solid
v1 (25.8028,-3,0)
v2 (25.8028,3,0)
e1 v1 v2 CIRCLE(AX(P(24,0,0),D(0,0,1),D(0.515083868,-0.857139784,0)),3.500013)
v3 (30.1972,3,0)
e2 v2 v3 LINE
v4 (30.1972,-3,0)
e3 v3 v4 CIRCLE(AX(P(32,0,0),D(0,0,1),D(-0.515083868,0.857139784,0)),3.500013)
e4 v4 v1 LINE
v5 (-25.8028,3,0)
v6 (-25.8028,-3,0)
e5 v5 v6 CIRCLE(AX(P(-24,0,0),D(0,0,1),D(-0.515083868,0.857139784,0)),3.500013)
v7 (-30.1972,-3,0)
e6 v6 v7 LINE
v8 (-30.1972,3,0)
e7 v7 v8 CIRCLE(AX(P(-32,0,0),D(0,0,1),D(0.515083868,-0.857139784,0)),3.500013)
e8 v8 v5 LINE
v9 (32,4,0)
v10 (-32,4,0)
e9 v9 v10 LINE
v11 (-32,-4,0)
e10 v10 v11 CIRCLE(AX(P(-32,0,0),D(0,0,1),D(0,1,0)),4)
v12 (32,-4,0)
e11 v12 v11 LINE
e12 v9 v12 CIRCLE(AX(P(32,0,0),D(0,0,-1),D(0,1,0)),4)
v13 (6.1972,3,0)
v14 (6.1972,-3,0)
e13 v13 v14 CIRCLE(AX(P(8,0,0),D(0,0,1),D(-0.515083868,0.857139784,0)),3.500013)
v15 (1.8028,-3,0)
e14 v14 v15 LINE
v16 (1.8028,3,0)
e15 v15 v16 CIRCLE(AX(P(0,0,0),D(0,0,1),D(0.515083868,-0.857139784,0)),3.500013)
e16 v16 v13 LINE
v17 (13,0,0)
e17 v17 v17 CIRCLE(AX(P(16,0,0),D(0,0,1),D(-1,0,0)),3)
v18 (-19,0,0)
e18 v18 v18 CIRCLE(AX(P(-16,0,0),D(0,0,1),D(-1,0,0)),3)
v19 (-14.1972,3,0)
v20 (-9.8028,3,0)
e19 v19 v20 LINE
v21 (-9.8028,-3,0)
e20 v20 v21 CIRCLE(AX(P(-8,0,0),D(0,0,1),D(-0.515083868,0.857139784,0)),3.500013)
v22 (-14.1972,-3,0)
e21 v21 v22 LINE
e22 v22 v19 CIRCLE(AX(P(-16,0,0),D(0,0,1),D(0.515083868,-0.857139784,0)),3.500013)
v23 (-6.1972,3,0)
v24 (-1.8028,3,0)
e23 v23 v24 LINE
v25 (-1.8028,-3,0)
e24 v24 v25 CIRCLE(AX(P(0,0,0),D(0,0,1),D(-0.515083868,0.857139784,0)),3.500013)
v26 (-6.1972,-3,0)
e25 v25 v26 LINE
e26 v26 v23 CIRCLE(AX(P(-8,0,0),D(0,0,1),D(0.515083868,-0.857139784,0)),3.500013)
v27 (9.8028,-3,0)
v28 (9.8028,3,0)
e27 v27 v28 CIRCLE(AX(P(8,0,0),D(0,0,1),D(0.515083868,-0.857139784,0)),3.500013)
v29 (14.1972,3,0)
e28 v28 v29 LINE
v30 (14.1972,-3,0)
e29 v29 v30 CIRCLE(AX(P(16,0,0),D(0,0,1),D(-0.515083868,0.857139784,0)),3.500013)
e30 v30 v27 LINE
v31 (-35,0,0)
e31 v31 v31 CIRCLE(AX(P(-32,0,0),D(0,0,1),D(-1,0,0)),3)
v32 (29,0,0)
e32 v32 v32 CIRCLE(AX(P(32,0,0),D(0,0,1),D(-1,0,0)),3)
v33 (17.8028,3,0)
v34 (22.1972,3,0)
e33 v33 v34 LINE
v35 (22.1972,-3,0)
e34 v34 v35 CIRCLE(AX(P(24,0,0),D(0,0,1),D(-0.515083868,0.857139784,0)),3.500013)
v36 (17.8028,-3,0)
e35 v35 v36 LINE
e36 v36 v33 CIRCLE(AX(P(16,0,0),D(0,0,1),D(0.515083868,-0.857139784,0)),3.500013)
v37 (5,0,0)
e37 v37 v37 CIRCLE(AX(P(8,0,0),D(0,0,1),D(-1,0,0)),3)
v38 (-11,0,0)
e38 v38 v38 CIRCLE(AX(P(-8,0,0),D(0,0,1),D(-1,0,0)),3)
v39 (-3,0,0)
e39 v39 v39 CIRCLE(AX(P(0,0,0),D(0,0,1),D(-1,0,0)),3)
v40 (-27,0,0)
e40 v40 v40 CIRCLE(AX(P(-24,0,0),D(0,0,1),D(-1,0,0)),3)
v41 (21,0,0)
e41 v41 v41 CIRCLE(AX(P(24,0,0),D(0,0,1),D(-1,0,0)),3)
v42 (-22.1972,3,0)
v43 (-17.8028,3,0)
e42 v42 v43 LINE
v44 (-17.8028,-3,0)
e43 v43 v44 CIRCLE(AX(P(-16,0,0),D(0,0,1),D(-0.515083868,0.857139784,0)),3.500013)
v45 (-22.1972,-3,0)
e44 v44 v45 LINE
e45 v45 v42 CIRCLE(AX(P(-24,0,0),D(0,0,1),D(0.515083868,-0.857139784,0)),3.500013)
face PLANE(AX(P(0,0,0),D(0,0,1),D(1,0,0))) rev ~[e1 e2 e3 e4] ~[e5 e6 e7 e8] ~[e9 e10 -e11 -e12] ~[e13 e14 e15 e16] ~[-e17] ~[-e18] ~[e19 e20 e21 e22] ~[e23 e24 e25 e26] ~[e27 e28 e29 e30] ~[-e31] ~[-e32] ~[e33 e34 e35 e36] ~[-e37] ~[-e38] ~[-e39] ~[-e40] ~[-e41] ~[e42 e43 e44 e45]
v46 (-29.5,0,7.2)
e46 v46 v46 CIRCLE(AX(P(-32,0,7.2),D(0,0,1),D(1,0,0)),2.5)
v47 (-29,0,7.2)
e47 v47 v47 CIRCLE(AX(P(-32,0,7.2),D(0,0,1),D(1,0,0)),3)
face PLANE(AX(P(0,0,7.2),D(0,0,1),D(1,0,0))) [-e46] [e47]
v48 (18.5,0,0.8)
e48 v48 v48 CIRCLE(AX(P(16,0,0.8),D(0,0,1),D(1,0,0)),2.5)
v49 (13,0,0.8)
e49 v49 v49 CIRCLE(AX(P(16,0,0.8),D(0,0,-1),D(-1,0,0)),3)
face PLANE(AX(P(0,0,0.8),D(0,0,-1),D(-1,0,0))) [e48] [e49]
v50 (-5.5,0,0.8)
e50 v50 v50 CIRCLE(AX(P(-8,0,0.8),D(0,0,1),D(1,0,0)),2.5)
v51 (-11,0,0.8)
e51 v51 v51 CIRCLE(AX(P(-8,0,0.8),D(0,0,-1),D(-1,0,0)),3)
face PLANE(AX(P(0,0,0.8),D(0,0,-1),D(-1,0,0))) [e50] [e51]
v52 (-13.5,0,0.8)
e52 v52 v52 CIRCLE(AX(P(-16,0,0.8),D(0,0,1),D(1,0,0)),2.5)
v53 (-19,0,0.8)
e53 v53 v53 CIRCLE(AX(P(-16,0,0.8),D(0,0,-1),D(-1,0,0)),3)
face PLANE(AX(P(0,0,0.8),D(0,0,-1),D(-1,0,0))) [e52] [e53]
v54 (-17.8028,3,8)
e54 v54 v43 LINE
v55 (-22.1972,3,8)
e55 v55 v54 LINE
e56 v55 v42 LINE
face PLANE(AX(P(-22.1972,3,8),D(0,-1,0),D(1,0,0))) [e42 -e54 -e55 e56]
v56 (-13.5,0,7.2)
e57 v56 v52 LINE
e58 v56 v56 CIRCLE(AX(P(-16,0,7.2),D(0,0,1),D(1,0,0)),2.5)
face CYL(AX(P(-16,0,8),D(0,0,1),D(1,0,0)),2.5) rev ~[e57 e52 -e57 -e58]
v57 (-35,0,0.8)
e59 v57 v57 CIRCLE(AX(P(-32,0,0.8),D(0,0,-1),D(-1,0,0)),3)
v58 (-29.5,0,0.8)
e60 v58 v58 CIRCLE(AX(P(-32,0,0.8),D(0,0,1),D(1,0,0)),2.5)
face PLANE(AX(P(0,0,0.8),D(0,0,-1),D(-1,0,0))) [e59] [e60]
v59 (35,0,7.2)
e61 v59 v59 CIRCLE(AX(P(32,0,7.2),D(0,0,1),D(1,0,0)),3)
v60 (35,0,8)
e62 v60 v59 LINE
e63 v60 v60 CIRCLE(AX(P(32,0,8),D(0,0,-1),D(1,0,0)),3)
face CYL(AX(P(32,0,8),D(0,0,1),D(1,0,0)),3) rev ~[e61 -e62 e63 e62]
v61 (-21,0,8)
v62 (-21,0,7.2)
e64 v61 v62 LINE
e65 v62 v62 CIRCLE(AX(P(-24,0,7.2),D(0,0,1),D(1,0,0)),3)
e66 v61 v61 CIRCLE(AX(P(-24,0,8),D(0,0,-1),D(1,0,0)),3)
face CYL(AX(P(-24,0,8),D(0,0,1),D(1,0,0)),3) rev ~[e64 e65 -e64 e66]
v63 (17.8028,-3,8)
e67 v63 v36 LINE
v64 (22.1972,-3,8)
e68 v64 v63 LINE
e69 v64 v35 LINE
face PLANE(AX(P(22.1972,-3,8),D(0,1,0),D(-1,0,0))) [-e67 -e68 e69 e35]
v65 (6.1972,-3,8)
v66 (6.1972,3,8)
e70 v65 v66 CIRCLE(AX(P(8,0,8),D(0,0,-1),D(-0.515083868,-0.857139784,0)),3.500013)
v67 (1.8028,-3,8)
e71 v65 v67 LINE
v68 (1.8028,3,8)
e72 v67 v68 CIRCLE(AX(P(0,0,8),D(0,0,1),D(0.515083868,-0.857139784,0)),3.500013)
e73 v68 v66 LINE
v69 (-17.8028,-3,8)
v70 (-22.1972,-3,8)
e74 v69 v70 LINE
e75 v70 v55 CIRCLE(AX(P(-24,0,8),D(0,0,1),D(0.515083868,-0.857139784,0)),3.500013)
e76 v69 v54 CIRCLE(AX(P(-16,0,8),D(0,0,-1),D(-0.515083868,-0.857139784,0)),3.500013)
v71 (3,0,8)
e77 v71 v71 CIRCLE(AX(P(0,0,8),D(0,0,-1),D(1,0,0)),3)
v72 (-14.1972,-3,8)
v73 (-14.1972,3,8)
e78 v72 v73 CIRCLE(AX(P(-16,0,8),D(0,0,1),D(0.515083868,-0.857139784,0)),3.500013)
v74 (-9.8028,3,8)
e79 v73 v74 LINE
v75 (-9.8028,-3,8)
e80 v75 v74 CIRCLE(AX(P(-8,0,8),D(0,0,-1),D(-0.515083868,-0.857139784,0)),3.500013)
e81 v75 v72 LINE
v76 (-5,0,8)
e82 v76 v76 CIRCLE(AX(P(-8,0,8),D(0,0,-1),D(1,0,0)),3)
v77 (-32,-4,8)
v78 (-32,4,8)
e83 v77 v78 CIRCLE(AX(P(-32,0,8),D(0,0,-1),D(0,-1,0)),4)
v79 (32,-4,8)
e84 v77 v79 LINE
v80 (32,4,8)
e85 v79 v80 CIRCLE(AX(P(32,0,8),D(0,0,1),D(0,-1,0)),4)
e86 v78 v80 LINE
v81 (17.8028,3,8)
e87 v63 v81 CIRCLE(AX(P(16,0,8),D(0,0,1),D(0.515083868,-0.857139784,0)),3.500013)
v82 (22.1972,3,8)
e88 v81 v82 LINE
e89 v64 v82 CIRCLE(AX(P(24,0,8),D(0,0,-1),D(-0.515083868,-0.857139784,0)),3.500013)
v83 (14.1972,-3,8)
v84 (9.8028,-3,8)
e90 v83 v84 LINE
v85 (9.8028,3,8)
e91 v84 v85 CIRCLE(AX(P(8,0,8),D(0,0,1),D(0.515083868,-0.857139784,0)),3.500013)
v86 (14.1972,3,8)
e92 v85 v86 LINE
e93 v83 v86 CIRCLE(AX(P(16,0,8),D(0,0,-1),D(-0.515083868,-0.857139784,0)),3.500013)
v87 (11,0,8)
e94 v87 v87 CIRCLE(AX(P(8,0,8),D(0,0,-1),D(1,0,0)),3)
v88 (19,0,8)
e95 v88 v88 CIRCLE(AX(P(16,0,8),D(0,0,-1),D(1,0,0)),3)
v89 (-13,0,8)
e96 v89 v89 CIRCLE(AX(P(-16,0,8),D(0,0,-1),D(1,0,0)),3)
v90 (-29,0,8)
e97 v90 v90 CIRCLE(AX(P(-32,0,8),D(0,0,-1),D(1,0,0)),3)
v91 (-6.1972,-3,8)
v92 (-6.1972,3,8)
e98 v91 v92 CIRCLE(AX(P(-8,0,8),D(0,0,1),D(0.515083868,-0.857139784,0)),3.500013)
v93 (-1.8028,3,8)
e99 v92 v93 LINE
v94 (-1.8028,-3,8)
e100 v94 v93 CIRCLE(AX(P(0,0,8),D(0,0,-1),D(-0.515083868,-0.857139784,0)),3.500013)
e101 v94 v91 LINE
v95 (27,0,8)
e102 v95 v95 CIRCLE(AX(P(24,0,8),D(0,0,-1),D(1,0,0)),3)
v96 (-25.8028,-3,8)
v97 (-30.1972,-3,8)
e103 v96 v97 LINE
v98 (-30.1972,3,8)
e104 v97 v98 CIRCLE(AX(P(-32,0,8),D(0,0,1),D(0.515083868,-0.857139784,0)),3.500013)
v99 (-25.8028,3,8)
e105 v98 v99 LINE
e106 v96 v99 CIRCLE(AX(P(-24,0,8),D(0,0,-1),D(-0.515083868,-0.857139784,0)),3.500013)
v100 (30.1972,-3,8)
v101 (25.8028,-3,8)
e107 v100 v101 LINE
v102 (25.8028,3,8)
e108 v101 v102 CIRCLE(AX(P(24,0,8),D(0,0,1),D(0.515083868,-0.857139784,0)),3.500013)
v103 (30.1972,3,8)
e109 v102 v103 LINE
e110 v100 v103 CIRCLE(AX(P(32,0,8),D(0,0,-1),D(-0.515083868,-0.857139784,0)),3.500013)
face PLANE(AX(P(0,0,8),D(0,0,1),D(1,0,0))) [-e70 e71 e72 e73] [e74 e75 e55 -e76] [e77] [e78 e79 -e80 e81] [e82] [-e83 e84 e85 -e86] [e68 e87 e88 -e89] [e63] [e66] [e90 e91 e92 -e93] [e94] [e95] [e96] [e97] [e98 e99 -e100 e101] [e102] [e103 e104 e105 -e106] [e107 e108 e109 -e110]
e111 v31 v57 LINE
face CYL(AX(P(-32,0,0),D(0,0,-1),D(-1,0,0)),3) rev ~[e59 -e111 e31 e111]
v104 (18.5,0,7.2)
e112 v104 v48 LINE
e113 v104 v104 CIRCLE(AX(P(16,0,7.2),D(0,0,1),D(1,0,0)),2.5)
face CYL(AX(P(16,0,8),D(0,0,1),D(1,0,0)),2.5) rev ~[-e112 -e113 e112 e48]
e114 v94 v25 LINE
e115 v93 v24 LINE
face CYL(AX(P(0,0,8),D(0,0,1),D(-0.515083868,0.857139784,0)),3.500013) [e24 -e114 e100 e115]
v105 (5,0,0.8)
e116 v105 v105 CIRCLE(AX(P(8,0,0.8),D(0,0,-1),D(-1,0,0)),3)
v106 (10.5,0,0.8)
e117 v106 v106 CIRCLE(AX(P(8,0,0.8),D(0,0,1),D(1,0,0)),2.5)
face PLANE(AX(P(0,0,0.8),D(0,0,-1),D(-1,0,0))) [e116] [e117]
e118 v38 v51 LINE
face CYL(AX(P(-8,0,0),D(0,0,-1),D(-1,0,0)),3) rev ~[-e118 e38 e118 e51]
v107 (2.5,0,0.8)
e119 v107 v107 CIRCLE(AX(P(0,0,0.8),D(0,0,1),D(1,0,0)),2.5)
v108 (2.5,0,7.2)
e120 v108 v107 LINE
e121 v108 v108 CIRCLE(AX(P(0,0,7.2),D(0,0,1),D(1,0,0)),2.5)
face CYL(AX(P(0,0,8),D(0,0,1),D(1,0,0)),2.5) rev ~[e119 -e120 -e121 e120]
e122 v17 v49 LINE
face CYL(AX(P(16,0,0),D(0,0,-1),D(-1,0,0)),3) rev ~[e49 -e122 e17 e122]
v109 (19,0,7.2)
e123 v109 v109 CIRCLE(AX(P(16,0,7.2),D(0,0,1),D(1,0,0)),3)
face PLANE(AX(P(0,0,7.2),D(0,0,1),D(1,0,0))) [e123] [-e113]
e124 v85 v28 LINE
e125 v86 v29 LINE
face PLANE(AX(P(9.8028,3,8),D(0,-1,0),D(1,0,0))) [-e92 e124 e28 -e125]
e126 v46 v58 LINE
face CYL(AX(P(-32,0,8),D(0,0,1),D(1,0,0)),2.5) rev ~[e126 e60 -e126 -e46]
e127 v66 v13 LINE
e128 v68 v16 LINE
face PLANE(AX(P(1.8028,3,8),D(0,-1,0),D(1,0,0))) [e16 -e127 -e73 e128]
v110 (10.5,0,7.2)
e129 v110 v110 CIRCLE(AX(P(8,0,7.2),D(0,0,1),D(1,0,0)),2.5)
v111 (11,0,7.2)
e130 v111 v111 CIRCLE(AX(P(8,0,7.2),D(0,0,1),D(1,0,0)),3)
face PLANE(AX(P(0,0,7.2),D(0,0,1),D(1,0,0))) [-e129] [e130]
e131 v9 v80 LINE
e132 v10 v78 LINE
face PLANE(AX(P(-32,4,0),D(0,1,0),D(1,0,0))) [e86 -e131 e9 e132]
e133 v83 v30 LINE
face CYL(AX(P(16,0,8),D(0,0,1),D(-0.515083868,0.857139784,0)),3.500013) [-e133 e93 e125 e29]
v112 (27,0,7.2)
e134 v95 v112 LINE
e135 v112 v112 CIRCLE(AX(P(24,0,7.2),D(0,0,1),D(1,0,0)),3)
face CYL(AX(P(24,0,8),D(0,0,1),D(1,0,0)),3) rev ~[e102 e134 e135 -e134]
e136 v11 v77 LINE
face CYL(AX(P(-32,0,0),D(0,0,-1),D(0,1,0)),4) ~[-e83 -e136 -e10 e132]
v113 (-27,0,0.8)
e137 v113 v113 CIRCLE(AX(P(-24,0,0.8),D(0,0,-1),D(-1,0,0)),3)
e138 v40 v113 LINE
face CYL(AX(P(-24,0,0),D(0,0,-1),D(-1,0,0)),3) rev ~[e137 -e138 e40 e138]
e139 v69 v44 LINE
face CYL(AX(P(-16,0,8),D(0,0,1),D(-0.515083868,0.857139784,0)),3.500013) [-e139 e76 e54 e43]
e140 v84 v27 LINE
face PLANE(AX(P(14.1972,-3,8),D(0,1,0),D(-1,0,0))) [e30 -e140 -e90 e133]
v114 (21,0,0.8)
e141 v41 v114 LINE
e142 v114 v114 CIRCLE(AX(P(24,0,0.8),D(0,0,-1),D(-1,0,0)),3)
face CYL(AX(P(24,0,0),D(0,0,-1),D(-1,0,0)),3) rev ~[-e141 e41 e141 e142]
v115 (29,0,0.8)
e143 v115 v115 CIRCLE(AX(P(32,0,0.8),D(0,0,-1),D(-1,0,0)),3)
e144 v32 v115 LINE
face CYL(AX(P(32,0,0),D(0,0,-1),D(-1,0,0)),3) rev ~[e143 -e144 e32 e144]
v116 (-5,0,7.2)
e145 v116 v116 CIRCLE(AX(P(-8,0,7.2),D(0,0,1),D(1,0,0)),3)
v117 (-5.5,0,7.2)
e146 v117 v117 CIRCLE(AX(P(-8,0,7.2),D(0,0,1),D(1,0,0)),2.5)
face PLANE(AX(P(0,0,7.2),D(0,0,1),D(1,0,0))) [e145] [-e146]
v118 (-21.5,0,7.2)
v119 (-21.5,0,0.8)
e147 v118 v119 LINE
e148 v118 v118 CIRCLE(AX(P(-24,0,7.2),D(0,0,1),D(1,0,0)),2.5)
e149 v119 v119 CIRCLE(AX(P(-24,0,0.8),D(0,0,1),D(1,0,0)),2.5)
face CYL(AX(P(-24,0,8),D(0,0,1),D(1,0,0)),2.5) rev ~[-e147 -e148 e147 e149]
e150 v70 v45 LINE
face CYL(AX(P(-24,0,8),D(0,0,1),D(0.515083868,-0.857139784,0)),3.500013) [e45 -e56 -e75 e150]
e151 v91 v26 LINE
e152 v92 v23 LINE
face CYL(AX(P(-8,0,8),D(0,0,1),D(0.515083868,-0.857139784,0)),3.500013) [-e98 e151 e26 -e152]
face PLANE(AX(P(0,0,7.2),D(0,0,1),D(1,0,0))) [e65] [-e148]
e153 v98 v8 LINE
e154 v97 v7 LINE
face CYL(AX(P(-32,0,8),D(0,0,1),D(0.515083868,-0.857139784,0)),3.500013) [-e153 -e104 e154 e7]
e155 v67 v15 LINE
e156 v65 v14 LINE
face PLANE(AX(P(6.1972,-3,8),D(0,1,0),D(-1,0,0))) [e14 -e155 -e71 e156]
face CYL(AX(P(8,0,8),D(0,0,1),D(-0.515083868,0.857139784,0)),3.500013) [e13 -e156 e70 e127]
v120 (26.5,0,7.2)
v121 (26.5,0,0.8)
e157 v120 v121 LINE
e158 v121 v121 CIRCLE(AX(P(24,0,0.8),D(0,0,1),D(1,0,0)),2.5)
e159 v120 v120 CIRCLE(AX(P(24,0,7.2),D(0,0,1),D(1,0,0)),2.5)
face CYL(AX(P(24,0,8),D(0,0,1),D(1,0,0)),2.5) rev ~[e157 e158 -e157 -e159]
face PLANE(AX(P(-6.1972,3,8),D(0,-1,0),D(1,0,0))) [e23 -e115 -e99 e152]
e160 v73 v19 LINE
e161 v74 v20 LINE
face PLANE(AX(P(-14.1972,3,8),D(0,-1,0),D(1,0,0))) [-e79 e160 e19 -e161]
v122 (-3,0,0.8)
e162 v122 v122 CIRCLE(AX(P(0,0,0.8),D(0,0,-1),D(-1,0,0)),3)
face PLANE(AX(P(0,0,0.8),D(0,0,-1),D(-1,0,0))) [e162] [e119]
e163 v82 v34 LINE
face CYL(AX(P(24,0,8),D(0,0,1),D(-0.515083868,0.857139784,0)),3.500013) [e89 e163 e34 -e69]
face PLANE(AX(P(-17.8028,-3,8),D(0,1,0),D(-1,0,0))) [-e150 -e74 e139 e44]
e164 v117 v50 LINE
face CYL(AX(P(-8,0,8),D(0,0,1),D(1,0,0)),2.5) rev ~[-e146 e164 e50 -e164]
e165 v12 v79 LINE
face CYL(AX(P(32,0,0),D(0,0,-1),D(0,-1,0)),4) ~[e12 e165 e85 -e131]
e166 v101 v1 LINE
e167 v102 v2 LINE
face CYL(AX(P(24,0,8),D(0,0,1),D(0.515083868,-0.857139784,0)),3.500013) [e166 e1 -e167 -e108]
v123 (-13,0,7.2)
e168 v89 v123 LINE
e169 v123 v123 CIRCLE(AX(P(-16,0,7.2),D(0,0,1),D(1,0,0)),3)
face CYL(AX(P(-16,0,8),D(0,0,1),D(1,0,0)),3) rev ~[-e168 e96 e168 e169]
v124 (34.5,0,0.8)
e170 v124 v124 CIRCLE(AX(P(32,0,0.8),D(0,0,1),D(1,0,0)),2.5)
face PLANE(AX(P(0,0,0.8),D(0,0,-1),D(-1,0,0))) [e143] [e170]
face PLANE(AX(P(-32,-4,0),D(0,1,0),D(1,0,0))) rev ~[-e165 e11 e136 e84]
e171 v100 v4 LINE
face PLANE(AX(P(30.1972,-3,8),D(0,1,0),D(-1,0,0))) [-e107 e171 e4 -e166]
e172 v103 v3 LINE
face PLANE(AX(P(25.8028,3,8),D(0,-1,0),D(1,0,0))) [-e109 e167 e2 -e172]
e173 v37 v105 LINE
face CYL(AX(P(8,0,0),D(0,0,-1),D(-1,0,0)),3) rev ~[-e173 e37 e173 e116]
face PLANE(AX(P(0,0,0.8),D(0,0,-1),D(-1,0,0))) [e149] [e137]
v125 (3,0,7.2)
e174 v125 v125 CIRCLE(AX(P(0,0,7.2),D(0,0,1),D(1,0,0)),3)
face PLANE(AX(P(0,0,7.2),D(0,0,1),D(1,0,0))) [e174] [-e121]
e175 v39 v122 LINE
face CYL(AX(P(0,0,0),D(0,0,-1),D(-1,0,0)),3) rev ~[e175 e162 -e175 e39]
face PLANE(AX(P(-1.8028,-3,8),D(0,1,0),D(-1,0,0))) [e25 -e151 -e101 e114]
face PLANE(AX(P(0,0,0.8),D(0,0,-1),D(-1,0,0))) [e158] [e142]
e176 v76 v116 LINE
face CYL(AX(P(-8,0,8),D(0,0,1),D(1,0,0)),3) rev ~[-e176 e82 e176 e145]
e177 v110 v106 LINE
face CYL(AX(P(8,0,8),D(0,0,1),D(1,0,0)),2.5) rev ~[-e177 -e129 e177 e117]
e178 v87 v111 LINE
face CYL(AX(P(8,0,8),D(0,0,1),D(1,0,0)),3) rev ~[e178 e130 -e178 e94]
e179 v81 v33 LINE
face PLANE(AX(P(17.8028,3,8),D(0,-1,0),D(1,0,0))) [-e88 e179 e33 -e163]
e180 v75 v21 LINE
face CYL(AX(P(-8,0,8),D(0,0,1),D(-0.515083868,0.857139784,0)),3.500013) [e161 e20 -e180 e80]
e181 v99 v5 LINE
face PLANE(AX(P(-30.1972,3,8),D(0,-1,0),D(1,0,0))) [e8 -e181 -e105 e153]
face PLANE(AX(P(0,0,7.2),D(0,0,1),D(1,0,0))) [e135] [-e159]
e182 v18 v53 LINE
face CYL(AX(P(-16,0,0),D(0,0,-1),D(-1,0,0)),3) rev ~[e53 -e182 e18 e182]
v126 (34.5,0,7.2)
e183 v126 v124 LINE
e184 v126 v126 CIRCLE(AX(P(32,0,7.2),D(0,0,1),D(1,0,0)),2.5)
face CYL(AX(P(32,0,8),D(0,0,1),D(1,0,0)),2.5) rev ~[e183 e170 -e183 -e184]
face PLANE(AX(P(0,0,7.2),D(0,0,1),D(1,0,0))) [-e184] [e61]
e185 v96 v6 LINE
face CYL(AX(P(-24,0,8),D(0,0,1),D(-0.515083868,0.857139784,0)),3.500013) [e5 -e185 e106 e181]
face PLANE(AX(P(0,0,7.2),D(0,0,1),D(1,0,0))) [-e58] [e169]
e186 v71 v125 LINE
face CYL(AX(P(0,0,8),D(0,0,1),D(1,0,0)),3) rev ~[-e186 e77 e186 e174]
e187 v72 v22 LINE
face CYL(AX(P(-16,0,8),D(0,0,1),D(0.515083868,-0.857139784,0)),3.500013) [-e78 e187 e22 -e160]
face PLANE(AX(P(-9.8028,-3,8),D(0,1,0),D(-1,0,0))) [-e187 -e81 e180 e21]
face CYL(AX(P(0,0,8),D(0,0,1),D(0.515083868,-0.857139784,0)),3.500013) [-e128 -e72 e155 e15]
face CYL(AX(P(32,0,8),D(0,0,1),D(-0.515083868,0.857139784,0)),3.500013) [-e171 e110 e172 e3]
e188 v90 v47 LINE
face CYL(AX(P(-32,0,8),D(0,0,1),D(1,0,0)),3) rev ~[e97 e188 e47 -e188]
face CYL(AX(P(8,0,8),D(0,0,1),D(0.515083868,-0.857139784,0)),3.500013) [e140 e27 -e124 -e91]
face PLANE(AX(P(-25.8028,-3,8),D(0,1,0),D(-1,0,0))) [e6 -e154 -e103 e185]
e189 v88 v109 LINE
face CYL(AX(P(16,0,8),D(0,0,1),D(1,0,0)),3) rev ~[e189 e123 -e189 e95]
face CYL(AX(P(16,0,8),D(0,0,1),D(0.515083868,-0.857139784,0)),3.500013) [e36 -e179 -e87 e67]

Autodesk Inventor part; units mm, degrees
ref_plane "YZ Plane" through (0, 0, 0) normal (1, 0, 0) x (0, 1, 0)
ref_plane "XZ Plane" through (0, 0, 0) normal (0, 1, 0) x (-1, 0, 0)
ref_plane "XY Plane" through (0, 0, 0) normal (0, 0, 1) x (1, 0, 0)
sketch "Sketch2" plane through (0, 0, 0) normal (0, 0, 1) x (1, 0, 0)
  arc A0 (-32, 4) -> (-32, -4) centre (-32, 0) ccw
  arc A1 (32, -4) -> (32, 4) centre (32, 0) ccw
  line L0 (-32, 4) -> (32, 4)
  line L1 (-32, -4) -> (32, -4)
  line L2 (-50.4, 0) -> (50.4, 0) projected
  line L3 (0, -5.6) -> (0, 5.6) projected
  point P0 (0, 0)
  dimension "d0" = 4
  dimension "d1" = 4
  dimension "d2" = 64
  dimension "d3" = 0
  dimension "d4" = 32
  dimension "d9" = 180
  dimension "d10" = 0
  dimension "d141" = 64
extrude "Extrusion1" add sketch "Sketch2" along normal blind 8
sketch "Sketch15" plane through (0, 0, 8) normal (0, 0, 1) x (1, 0, 0)
  arc A0 (-32, 4) -> (-32, -4) centre (-32, 0) ccw projected
  circle A1 centre (-32, 0) radius 2.5
  line L0 (-50.4, 0) -> (50.4, 0) projected
  circle A2 centre (-24, 0) radius 2.5
  circle A3 centre (-16, 0) radius 2.5
  circle A4 centre (-8, 0) radius 2.5
  circle A5 centre (0, 0) radius 2.5
  circle A6 centre (8, 0) radius 2.5
  circle A7 centre (16, 0) radius 2.5
  circle A8 centre (24, 0) radius 2.5
  circle A9 centre (32, 0) radius 2.5
  dimension "d142" = 5
  dimension "d148" = 8
extrude "Extrusion14" cut sketch "Sketch15" against normal through all
sketch "Sketch16" plane through (0, 0, 8) normal (0, 0, 1) x (1, 0, 0)
  circle A0 centre (32, 0) radius 2.5 projected
  circle A1 centre (24, 0) radius 2.5 projected
  circle A2 centre (16, 0) radius 2.5 projected
  circle A3 centre (8, 0) radius 2.5 projected
  circle A4 centre (0, 0) radius 2.5 projected
  circle A5 centre (-8, 0) radius 2.5 projected
  circle A6 centre (-16, 0) radius 2.5 projected
  circle A7 centre (-24, 0) radius 2.5 projected
  circle A8 centre (-32, 0) radius 2.5 projected
  arc A9 (-32, 4) -> (-32, -4) centre (-32, 0) ccw projected
  circle A10 centre (-32, 0) radius 3
  line L0 (-50.4, 0) -> (50.4, 0) projected
  circle A11 centre (-24, 0) radius 3
  circle A12 centre (-16, 0) radius 3
  circle A13 centre (-8, 0) radius 3
  circle A14 centre (0, 0) radius 3
  circle A15 centre (8, 0) radius 3
  circle A16 centre (16, 0) radius 3
  circle A17 centre (24, 0) radius 3
  circle A18 centre (32, 0) radius 3
  dimension "d152" = 6
  dimension "d158" = 8
extrude "Extrusion15" cut sketch "Sketch16" against normal blind 0.8 contours L0 A18 A0 | A0 L0 A18 | A10 L0 A8 | L0 A8 A10 | A11 L0 A7 | L0 A7 A11 | A12 L0 A6 | L0 A6 A12 | A13 L0 A5 | L0 A5 A13 | A14 L0 A4 | L0 A4 A14 | A15 L0 A3 | L0 A3 A15 | A16 L0 A2 | L0 A2 A16 | A17 L0 A1 | L0 A1 A17
sketch "Sketch17" plane through (0, 0, 0) normal (0, 0, -1) x (-1, 0, 0)
  circle A0 centre (-32, 0) radius 2.5 projected
  circle A1 centre (-24, 0) radius 2.5 projected
  circle A2 centre (-16, 0) radius 2.5 projected
  circle A3 centre (-8, 0) radius 2.5 projected
  circle A4 centre (0, 0) radius 2.5 projected
  circle A5 centre (8, 0) radius 2.5 projected
  circle A6 centre (16, 0) radius 2.5 projected
  circle A7 centre (24, 0) radius 2.5 projected
  circle A8 centre (32, 0) radius 2.5 projected
  arc A9 (-32, 4) -> (-32, -4) centre (-32, 0) ccw projected
  circle A10 centre (-32, 0) radius 3
  line L0 (50.4, 0) -> (-50.4, 0) projected
  circle A11 centre (-24, 0) radius 3
  circle A12 centre (-16, 0) radius 3
  circle A13 centre (-8, 0) radius 3
  circle A14 centre (0, 0) radius 3
  circle A15 centre (8, 0) radius 3
  circle A16 centre (16, 0) radius 3
  circle A17 centre (24, 0) radius 3
  circle A18 centre (32, 0) radius 3
  dimension "d162" = 6
  dimension "d168" = 8
extrude "Extrusion16" cut sketch "Sketch17" against normal blind 0.8 contours L0 A10 A0 | A0 L0 A10 | A18 L0 A8 | L0 A8 A18 | A17 L0 A7 | L0 A7 A17 | A16 L0 A6 | L0 A6 A16 | A15 L0 A5 | L0 A5 A15 | A14 L0 A4 | L0 A4 A14 | A13 L0 A3 | L0 A3 A13 | A12 L0 A2 | L0 A2 A12 | A11 L0 A1 | L0 A1 A11
sketch "Sketch18" plane through (0, 0, 8) normal (0, 0, 1) x (1, 0, 0)
  circle A0 centre (-32, 0) radius 3 projected
  circle A1 centre (-24, 0) radius 3 projected
  arc A2 (-32, 4) -> (-32, -4) centre (-32, 0) ccw projected
  line L0 (-32, 4) -> (32, 4) projected
  arc A3 (-30.1972, -3) -> (-30.1972, 3) centre (-32, 0) ccw
  arc A4 (-25.8028, 3) -> (-25.8028, -3) centre (-24, 0) ccw
  line L1 (-30.1972, 3) -> (-25.8028, 3)
  line L2 (-25.8028, -3) -> (-30.1972, -3)
  line L3 (-50.4, 0) -> (50.4, 0) projected
  arc A5 (-22.1972, -3) -> (-22.1972, 3) centre (-24, 0) ccw
  arc A6 (-17.8028, 3) -> (-17.8028, -3) centre (-16, 0) ccw
  line L4 (-22.1972, 3) -> (-17.8028, 3)
  line L5 (-17.8028, -3) -> (-22.1972, -3)
  arc A7 (-14.1972, -3) -> (-14.1972, 3) centre (-16, 0) ccw
  arc A8 (-9.8028, 3) -> (-9.8028, -3) centre (-8, 0) ccw
  line L6 (-14.1972, 3) -> (-9.8028, 3)
  line L7 (-9.8028, -3) -> (-14.1972, -3)
  arc A9 (-6.1972, -3) -> (-6.1972, 3) centre (-8, 0) ccw
  arc A10 (-1.8028, 3) -> (-1.8028, -3) centre (0, 0) ccw
  line L8 (-6.1972, 3) -> (-1.8028, 3)
  line L9 (-1.8028, -3) -> (-6.1972, -3)
  arc A11 (1.8028, -3) -> (1.8028, 3) centre (0, 0) ccw
  arc A12 (6.1972, 3) -> (6.1972, -3) centre (8, 0) ccw
  line L10 (1.8028, 3) -> (6.1972, 3)
  line L11 (6.1972, -3) -> (1.8028, -3)
  arc A13 (9.8028, -3) -> (9.8028, 3) centre (8, 0) ccw
  arc A14 (14.1972, 3) -> (14.1972, -3) centre (16, 0) ccw
  line L12 (9.8028, 3) -> (14.1972, 3)
  line L13 (14.1972, -3) -> (9.8028, -3)
  arc A15 (17.8028, -3) -> (17.8028, 3) centre (16, 0) ccw
  arc A16 (22.1972, 3) -> (22.1972, -3) centre (24, 0) ccw
  line L14 (17.8028, 3) -> (22.1972, 3)
  line L15 (22.1972, -3) -> (17.8028, -3)
  arc A17 (25.8028, -3) -> (25.8028, 3) centre (24, 0) ccw
  arc A18 (30.1972, 3) -> (30.1972, -3) centre (32, 0) ccw
  line L16 (25.8028, 3) -> (30.1972, 3)
  line L17 (30.1972, -3) -> (25.8028, -3)
  dimension "d172" = 7
  dimension "d173" = 7
  dimension "d179" = 8
extrude "Extrusion17" cut sketch "Sketch18" against normal through all contours A17 L16 A18 L3 | L3 A18 L17 A17 | A15 L14 A16 L3 | L3 A16 L15 A15 | A13 L12 A14 L3 | L3 A14 L13 A13 | A11 L10 A12 L3 | L3 A12 L11 A11 | A9 L8 A10 L3 | L3 A10 L9 A9 | A7 L6 A8 L3 | L3 A8 L7 A7 | A5 L4 A6 L3 | L3 A6 L5 A5 | A3 L1 A4 L3 | L3 A4 L2 A3
properties part number "9M Beam"
